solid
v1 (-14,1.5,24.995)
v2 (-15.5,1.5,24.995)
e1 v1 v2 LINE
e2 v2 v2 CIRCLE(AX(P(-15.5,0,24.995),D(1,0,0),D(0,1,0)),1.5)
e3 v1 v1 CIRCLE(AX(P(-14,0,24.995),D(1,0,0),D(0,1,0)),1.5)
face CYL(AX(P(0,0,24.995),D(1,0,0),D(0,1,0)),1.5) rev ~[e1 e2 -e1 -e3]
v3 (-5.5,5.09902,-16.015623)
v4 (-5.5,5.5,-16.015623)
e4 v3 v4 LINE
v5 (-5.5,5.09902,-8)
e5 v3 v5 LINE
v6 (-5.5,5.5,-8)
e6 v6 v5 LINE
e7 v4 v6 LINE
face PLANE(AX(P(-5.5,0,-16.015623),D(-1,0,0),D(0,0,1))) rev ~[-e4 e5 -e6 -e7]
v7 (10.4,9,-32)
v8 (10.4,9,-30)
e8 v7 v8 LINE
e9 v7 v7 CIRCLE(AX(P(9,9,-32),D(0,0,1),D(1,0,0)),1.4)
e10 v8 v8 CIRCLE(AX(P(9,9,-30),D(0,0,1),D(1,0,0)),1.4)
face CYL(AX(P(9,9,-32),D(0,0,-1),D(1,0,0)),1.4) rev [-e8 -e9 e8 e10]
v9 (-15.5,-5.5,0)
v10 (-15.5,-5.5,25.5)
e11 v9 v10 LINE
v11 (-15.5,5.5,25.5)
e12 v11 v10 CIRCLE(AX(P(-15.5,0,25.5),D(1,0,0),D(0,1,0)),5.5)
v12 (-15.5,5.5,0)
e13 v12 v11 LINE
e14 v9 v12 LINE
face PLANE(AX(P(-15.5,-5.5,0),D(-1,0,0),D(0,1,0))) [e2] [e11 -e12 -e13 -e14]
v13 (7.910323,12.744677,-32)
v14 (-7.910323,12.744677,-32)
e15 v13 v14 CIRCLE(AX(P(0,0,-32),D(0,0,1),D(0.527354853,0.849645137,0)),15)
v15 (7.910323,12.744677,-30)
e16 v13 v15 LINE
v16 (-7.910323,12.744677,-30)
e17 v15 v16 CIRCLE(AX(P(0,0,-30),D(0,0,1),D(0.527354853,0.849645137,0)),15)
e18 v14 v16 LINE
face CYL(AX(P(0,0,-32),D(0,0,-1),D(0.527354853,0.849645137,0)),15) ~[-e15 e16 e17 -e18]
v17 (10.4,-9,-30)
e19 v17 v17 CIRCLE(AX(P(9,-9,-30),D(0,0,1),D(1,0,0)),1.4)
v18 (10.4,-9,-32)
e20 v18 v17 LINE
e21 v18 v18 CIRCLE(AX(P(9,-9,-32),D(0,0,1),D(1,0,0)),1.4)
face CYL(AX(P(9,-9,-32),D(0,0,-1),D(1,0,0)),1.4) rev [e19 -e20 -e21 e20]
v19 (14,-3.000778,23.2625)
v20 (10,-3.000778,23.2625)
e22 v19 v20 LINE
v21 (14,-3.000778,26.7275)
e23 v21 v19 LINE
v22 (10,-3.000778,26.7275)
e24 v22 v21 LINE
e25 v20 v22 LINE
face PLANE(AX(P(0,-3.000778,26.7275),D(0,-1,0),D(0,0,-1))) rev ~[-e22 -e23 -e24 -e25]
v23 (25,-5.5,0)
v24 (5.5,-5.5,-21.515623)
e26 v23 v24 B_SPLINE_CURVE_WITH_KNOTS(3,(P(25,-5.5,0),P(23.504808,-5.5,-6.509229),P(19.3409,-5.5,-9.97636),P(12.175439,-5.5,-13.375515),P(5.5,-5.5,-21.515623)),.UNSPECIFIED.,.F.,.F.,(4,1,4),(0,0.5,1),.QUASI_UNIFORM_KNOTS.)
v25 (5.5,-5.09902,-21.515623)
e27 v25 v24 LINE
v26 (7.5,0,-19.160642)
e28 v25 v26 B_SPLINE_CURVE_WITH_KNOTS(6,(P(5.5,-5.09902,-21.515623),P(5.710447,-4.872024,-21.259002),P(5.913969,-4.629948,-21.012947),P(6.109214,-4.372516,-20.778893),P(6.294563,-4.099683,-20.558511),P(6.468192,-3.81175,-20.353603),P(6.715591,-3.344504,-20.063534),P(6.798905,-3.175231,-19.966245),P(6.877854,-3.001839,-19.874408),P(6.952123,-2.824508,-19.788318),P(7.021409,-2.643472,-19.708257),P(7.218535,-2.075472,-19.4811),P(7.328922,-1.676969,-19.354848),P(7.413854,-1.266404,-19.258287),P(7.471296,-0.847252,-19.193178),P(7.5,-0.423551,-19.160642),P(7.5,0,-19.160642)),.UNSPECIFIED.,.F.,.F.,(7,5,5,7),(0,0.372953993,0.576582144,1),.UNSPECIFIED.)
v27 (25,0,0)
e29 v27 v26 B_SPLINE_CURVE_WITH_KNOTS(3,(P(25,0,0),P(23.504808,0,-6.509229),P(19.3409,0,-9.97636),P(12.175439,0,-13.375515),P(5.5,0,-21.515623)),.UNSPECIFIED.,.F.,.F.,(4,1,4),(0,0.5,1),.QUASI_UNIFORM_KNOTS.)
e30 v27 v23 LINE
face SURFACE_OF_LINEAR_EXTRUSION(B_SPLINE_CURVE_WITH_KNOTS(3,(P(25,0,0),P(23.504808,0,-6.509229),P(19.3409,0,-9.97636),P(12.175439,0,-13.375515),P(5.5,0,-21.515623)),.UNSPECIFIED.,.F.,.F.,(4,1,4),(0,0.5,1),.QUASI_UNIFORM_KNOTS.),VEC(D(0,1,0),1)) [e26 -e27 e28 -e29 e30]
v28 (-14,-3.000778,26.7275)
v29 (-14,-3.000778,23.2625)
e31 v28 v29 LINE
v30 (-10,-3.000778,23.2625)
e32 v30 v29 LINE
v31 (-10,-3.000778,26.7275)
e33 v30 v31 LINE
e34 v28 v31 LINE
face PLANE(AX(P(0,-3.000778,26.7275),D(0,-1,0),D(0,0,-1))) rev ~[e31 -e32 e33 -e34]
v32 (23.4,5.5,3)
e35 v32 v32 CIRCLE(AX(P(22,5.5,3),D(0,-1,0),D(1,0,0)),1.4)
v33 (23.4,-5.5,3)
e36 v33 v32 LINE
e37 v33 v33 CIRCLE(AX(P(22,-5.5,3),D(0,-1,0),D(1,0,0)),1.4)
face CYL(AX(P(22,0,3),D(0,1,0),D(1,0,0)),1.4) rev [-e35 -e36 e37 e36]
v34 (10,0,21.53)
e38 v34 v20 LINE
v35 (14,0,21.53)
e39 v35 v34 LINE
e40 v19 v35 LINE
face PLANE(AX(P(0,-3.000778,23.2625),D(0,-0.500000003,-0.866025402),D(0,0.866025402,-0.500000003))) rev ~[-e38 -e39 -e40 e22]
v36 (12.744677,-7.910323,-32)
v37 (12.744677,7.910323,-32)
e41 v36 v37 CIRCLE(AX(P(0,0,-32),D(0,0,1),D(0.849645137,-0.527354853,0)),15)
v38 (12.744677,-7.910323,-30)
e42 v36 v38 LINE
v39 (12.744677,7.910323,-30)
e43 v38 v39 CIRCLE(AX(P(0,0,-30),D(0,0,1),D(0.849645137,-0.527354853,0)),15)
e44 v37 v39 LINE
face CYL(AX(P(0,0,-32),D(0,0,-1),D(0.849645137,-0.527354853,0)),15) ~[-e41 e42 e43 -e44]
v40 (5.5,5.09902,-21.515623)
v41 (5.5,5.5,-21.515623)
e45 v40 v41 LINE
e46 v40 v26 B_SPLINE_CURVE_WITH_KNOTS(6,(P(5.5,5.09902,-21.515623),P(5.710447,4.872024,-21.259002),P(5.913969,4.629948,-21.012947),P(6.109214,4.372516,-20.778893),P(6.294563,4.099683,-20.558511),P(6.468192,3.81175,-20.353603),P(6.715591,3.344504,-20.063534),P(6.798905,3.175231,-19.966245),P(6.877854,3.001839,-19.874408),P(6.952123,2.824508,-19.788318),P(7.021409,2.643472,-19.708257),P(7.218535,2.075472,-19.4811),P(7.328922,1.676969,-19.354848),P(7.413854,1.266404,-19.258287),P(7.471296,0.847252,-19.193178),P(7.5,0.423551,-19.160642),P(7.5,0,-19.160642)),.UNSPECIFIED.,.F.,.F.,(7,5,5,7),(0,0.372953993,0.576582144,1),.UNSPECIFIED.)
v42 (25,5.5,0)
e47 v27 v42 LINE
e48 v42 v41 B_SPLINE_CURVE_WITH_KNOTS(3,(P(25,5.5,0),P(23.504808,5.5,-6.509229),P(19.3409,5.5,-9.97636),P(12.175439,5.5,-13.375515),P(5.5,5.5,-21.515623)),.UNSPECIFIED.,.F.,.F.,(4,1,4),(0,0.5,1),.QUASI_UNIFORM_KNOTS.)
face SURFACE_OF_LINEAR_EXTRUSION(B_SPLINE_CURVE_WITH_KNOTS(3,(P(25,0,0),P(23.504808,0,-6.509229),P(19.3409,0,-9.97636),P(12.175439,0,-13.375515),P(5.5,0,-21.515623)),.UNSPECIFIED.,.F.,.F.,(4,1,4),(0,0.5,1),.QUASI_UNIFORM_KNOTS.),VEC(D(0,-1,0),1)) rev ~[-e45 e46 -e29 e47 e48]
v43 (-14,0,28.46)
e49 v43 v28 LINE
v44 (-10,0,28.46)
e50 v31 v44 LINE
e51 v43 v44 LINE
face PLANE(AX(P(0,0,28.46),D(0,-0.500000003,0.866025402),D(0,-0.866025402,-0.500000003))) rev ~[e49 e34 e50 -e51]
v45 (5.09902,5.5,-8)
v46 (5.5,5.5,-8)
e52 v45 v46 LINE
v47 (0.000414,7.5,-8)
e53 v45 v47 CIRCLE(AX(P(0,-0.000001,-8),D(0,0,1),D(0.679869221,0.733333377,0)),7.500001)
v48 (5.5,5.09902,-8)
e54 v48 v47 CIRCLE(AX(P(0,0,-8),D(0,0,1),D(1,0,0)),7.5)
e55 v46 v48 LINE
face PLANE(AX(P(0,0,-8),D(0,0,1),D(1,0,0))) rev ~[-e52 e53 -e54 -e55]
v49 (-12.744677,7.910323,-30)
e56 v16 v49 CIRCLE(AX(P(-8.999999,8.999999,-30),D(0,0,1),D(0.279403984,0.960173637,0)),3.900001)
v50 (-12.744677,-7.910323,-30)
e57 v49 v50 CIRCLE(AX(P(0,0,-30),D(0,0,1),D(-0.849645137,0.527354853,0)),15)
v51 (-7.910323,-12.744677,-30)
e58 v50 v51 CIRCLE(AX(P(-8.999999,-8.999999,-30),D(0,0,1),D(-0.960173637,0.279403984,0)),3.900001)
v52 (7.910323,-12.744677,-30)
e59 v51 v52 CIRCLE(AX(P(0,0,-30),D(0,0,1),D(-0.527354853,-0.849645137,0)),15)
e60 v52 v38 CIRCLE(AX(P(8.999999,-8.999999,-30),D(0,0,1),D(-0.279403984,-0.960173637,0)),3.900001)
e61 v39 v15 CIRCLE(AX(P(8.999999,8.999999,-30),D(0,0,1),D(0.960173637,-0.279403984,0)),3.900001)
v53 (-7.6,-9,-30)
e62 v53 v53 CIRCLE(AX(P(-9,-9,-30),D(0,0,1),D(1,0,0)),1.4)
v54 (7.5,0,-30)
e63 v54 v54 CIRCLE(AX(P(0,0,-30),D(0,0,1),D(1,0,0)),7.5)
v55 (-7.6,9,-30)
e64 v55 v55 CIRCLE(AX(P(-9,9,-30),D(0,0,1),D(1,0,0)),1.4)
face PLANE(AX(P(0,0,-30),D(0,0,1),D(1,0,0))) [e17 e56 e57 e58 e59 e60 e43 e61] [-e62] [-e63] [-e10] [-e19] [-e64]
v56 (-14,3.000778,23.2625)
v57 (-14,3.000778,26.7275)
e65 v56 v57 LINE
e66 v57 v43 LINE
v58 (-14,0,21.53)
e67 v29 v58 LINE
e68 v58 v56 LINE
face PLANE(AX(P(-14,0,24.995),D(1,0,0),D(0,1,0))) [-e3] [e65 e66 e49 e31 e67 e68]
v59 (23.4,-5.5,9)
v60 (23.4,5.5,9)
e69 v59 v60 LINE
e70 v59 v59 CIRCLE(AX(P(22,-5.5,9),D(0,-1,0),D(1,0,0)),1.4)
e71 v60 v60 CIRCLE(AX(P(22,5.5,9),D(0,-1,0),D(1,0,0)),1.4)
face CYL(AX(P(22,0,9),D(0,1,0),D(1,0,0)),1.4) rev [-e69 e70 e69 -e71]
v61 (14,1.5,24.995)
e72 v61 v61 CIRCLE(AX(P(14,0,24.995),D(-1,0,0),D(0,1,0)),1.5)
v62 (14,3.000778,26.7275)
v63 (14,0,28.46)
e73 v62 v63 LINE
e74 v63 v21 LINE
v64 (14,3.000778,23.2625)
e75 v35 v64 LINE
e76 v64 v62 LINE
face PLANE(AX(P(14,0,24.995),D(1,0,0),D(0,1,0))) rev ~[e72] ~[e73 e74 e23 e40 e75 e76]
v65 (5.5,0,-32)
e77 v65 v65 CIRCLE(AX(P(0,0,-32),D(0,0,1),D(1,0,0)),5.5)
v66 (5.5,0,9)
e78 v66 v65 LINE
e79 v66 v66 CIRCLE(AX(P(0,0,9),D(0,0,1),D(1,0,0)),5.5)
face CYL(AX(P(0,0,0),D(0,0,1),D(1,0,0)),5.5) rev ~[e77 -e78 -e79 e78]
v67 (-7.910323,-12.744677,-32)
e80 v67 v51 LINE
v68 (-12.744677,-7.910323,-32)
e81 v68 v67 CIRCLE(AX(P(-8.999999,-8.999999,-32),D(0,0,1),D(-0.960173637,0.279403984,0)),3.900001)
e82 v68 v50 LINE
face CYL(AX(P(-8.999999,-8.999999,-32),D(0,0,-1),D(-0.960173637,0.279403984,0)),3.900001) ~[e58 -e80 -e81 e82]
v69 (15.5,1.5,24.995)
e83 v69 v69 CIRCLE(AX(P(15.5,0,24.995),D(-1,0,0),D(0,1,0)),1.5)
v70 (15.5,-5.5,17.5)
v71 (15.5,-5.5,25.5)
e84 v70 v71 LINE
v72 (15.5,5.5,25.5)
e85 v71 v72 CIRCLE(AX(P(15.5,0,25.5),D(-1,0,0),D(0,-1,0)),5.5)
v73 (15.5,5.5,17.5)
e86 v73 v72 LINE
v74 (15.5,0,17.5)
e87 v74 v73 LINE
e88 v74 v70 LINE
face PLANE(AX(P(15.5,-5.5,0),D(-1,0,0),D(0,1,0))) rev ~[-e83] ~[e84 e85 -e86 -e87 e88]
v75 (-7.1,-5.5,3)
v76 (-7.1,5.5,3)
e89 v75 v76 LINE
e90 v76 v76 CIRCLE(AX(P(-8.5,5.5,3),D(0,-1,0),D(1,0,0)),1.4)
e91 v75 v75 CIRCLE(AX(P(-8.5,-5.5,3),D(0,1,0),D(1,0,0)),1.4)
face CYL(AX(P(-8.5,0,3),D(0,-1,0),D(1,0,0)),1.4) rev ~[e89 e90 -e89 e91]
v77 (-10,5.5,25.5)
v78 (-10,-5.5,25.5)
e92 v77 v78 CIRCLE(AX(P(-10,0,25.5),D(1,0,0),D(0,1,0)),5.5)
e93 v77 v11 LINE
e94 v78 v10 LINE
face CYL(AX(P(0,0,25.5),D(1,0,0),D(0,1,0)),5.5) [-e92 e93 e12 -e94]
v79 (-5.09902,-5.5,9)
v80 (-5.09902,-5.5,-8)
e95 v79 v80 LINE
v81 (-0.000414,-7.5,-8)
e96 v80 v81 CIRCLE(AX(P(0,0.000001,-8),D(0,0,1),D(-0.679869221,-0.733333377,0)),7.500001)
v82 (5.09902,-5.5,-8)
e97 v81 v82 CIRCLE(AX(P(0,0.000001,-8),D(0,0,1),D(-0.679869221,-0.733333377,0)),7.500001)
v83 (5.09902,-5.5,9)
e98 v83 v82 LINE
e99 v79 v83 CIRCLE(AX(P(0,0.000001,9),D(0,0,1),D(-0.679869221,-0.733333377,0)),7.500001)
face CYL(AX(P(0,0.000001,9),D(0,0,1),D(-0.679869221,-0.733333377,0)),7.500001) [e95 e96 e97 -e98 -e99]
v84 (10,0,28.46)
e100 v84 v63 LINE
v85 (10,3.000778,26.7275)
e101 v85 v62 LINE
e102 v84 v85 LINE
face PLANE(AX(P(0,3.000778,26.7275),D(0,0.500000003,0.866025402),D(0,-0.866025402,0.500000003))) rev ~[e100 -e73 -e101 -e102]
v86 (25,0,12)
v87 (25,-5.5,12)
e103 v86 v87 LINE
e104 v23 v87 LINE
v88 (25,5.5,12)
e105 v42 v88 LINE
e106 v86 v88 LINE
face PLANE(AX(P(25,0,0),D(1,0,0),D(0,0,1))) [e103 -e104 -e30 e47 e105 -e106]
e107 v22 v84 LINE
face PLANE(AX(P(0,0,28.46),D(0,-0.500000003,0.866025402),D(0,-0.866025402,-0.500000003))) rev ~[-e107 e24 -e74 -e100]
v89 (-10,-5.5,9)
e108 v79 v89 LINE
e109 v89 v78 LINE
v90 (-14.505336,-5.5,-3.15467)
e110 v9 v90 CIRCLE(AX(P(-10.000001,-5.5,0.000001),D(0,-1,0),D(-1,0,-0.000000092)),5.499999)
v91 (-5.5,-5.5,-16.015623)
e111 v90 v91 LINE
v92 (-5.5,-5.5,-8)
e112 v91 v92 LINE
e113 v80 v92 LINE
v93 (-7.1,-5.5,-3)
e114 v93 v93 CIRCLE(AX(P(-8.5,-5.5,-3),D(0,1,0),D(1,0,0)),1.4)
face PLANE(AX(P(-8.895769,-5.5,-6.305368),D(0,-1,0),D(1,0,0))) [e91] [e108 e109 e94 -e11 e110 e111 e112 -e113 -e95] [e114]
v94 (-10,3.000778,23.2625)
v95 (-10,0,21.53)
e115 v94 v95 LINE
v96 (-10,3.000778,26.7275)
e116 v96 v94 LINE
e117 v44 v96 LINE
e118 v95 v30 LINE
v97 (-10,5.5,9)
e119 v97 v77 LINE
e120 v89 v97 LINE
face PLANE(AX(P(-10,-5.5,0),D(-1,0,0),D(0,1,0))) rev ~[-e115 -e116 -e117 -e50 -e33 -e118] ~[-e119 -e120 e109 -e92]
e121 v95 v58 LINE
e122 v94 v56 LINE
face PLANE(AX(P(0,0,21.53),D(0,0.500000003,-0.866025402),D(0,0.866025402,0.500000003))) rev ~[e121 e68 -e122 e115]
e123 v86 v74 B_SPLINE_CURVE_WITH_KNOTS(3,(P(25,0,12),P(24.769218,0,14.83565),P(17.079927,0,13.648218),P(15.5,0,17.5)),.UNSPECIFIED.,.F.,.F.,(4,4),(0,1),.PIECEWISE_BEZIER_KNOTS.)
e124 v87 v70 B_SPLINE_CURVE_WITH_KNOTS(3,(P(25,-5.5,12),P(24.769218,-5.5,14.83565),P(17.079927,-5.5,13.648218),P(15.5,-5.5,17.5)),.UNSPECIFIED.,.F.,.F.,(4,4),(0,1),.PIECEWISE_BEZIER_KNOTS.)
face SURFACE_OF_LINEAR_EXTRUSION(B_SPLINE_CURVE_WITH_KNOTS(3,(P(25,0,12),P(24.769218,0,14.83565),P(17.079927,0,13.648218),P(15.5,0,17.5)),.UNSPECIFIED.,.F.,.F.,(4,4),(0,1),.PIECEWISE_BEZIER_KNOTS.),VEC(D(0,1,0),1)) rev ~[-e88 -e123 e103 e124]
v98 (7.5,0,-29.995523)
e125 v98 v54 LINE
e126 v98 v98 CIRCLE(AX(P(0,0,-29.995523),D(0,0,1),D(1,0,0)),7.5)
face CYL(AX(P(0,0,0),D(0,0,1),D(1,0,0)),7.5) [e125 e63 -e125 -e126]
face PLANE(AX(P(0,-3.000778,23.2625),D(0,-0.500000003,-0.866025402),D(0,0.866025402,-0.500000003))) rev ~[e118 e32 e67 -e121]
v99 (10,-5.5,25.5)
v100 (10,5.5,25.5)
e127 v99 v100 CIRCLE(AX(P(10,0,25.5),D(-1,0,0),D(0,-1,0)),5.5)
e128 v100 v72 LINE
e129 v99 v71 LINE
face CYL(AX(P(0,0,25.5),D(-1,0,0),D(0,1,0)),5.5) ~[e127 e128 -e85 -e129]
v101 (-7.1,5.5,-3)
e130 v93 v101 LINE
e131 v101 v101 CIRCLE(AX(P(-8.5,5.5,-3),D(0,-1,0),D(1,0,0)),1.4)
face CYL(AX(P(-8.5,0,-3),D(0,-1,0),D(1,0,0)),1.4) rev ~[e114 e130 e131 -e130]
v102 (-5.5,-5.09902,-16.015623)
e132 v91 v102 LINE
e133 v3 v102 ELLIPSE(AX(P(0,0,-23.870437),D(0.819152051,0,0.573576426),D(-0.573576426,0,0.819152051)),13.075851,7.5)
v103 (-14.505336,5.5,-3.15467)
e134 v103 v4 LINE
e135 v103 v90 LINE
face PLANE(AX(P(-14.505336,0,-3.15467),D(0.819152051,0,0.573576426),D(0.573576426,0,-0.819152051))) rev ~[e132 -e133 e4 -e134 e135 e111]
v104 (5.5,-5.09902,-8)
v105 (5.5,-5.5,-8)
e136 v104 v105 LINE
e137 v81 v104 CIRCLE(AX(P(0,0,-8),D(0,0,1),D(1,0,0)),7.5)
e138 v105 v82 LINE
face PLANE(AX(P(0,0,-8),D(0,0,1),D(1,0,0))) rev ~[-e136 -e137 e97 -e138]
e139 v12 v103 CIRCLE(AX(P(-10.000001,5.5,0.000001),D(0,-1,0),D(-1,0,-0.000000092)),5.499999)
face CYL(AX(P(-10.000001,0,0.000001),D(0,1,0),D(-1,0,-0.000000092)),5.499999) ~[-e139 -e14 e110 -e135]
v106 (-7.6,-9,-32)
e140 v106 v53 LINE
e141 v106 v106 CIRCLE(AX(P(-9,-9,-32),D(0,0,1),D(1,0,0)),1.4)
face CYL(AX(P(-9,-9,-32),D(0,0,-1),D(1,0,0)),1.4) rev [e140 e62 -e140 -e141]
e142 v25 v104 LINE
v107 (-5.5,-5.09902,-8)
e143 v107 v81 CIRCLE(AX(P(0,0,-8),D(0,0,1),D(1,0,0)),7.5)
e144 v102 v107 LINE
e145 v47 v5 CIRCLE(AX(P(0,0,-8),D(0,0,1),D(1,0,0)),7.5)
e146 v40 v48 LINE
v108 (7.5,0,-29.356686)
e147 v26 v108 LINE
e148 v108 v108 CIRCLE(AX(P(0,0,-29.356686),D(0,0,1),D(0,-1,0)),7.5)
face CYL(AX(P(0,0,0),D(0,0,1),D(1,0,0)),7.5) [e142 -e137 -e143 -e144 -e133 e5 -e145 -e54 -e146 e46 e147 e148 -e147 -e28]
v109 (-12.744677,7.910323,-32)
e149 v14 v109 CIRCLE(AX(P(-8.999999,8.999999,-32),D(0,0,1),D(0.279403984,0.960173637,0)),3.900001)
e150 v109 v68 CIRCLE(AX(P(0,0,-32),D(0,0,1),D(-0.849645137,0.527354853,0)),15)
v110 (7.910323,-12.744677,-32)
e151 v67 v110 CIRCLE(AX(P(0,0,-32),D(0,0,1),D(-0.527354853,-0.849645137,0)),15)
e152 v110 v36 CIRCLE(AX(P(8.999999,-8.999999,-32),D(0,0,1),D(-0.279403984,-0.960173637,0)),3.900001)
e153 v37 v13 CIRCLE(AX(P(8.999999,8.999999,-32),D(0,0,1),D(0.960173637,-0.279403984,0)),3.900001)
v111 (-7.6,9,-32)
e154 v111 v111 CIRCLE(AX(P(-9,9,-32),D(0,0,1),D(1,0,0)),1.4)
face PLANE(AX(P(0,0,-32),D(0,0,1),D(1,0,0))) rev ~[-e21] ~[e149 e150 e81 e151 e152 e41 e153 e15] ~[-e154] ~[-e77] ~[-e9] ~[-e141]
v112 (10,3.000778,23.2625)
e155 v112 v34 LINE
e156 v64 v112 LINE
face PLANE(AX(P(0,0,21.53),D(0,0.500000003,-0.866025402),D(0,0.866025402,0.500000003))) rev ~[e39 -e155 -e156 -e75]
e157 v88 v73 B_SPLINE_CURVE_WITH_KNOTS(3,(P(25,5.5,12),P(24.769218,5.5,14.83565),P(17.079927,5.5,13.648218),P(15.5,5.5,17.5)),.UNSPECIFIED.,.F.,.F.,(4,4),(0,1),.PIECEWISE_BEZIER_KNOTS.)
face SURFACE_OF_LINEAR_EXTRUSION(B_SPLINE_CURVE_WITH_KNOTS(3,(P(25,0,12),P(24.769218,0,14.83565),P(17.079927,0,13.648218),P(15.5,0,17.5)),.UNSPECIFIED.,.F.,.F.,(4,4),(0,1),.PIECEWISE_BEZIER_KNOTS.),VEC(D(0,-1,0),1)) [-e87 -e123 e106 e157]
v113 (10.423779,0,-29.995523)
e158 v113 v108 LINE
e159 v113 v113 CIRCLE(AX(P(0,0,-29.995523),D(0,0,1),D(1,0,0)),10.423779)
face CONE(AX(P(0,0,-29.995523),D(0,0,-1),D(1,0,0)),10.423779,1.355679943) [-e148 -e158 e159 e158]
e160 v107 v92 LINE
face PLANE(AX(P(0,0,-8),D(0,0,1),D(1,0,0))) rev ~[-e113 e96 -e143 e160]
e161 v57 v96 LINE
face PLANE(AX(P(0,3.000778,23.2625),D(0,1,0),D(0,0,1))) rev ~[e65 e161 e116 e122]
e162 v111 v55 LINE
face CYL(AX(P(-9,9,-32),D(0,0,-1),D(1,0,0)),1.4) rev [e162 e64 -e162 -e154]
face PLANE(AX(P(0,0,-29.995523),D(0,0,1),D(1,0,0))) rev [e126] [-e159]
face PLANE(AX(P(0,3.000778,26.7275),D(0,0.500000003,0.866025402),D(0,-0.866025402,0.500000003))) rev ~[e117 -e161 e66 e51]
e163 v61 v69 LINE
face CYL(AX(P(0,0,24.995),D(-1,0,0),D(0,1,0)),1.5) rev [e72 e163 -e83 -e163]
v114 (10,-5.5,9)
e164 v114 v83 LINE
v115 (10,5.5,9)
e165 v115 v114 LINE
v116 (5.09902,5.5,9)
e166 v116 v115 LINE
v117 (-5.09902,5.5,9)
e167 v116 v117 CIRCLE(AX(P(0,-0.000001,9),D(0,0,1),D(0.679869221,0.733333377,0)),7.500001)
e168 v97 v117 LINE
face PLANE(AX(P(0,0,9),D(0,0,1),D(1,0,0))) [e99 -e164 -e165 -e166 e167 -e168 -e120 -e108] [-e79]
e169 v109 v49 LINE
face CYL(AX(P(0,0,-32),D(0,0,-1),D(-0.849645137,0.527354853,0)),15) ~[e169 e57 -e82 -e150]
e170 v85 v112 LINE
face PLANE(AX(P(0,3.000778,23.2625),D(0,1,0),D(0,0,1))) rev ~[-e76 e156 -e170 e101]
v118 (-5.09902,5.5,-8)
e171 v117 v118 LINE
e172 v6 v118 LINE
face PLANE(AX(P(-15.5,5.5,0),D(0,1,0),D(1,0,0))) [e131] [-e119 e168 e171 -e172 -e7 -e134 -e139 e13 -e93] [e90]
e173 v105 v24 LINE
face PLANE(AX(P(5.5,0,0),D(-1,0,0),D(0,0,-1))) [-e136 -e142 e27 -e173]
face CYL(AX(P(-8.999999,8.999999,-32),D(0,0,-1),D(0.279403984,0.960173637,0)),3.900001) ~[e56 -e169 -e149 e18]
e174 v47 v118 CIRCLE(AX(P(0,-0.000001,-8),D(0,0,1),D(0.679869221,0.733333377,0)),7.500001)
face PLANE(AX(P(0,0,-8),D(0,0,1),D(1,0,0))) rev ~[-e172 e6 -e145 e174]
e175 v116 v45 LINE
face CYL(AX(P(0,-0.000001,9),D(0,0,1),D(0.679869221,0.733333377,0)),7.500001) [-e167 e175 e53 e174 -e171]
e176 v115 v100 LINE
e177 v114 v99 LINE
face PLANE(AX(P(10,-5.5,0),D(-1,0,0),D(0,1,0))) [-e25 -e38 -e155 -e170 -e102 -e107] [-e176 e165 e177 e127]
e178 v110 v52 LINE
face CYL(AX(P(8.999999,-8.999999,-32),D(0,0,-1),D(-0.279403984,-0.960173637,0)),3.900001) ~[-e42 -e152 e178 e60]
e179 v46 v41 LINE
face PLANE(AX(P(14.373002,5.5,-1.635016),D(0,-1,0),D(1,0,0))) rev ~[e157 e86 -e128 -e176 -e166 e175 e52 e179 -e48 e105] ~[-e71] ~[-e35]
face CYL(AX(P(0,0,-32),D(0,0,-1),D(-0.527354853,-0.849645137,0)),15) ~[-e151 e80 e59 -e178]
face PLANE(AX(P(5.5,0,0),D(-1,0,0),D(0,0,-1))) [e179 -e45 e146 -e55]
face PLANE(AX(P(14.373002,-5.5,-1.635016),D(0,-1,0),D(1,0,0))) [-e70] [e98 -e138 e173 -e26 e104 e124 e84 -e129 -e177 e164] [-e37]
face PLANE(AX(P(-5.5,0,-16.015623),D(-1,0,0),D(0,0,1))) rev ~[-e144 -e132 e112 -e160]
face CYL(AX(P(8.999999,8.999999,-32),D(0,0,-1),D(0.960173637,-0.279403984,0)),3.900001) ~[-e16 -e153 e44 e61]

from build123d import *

# Parameters (mm, degrees)
SKETCH003_R          = 5.5
PAD002_DEPTH         = 17
SKETCH005_R          = 7.5
SKETCH005_R_2        = 5.5
PAD004_DEPTH         = 32
SKETCH001_W          = 5.5
SKETCH001_H          = 11
PAD006_DEPTH         = 31
SKETCH006_R          = 1.5
POCKET_DEPTH         = 15.501
POCKET_DEPTH_BACK    = 15.501
POCKET001_DEPTH      = 14
SKETCH004_R          = 1.4
PAD007_DEPTH         = 5.5
SKETCH008_R          = 1.4
PAD008_DEPTH         = 2
SKETCH009_R          = 1.4
POCKET002_DEPTH      = 15.001
POCKET002_DEPTH_BACK = 15.001
SKETCH012_R          = 5.5
POCKET004_DEPTH      = 32.001
POCKET011_DEPTH      = 15.501
POCKET011_DEPTH_BACK = 25.001


with BuildPart() as part:
    # Sketch003 → Pad002 (new body)
    with BuildSketch(Plane.XY.offset(9)):
        with BuildLine():
            ThreePointArc((-5.09902, -5.5), (0, -7.5), (5.09902, -5.5))
            Line((10, -5.5), (5.09902, -5.5))
            Line((10, 5.5), (10, -5.5))
            Line((5.09902, 5.5), (10, 5.5))
            ThreePointArc((5.09902, 5.5), (0, 7.5), (-5.09902, 5.5))
            Line((-10, 5.5), (-5.09902, 5.5))
            Line((-10, -5.5), (-10, 5.5))
            Line((-5.09902, -5.5), (-10, -5.5))
        make_face()
        Circle(SKETCH003_R, mode=Mode.SUBTRACT)
    extrude(amount=-PAD002_DEPTH)

    # Sketch005 → Pad004 (join)
    with BuildSketch(Plane.XY):
        Circle(SKETCH005_R)
        Circle(SKETCH005_R_2, mode=Mode.SUBTRACT)
    extrude(amount=-PAD004_DEPTH)

    # Sketch001 → Pad006 (join)
    with BuildSketch(Plane.XY):
        with Locations((-12.75, 0)):
            Rectangle(SKETCH001_W, SKETCH001_H)
        with Locations((12.75, 0)):
            Rectangle(SKETCH001_W, SKETCH001_H)
    extrude(amount=PAD006_DEPTH)

    # Sketch006 → Pocket (cut, two sides)
    with BuildSketch(Plane.YZ) as pocket_sk:
        with Locations((0, 24.995)):
            Circle(SKETCH006_R)
    extrude(amount=-POCKET_DEPTH, mode=Mode.SUBTRACT)
    extrude(pocket_sk.sketch, amount=POCKET_DEPTH_BACK, mode=Mode.SUBTRACT)

    # Sketch007 → Pocket001 (cut, symmetric)
    with BuildSketch(Plane.YZ):
        Polygon((3.000778, 23.2625), (3.000778, 26.7275), (0, 28.46), (-3.000778, 26.7275), (-3.000778, 23.2625), (0, 21.53), align=None)
    extrude(amount=POCKET001_DEPTH, both=True, mode=Mode.SUBTRACT)

    # Sketch004 → Pad007 (join, symmetric)
    with BuildSketch(Plane.XZ):
        with BuildLine():
            Line((-5.5, 0), (-15.5, 0))
            ThreePointArc((-15.5, 0), (-15.245443, -1.653882), (-14.505336, -3.15467))
            Line((-14.505336, -3.15467), (-5.5, -16.015623))
            Line((-5.5, -16.015623), (-5.5, 0))
        make_face()
        with BuildLine():
            Line((25, 0), (25, 12))
            add(Edge.make_bspline(
                [(25, 12), (24.769218, 14.83565), (17.079927, 13.648218), (15.5, 17.5)],
                knots=[0, 0, 0, 0, 1, 1, 1, 1], degree=3))
            Line((15.5, 17.5), (15.5, 12))
            Line((15.5, 12), (5.5, 0))
            Line((5.5, 0), (5.5, -21.515623))
            add(Edge.make_bspline(
                [(25, 0), (23.504808, -6.509229), (19.3409, -9.97636), (12.175439, -13.375515), (5.5, -21.515623)],
                knots=[0, 0, 0, 0, 0.5, 1, 1, 1, 1], degree=3))
        make_face()
        with Locations((22, 3)):
            Circle(SKETCH004_R, mode=Mode.SUBTRACT)
        with Locations((22, 9)):
            Circle(SKETCH004_R, mode=Mode.SUBTRACT)
    extrude(amount=PAD007_DEPTH, both=True)

    # Sketch008 → Pad008 (join)
    with BuildSketch(Plane.XY.offset(-32)):
        with BuildLine():
            ThreePointArc((-12.744677, 7.910323), (-15, 0), (-12.744677, -7.910323))
            ThreePointArc((-12.744677, -7.910323), (-11.757716, -11.757716), (-7.910323, -12.744677))
            ThreePointArc((-7.910323, -12.744677), (0, -15), (7.910323, -12.744677))
            ThreePointArc((7.910323, -12.744677), (11.757716, -11.757716), (12.744677, -7.910323))
            ThreePointArc((12.744677, -7.910323), (15, 0), (12.744677, 7.910323))
            ThreePointArc((12.744677, 7.910323), (11.757716, 11.757716), (7.910323, 12.744677))
            ThreePointArc((7.910323, 12.744677), (0, 15), (-7.910323, 12.744677))
            ThreePointArc((-7.910323, 12.744677), (-11.757716, 11.757716), (-12.744677, 7.910323))
        make_face()
        with Locations((9, 9)):
            Circle(SKETCH008_R, mode=Mode.SUBTRACT)
        with Locations((-9, 9)):
            Circle(SKETCH008_R, mode=Mode.SUBTRACT)
        with Locations((-9, -9)):
            Circle(SKETCH008_R, mode=Mode.SUBTRACT)
        with Locations((9, -9)):
            Circle(SKETCH008_R, mode=Mode.SUBTRACT)
    extrude(amount=PAD008_DEPTH)

    # Sketch009 → Pocket002 (cut, two sides)
    with BuildSketch(Plane.XZ) as pocket002_sk:
        with Locations((-8.5, 3)):
            Circle(SKETCH009_R)
        with Locations((-8.5, -3)):
            Circle(SKETCH009_R)
    extrude(amount=-POCKET002_DEPTH, mode=Mode.SUBTRACT)
    extrude(pocket002_sk.sketch, amount=POCKET002_DEPTH_BACK, mode=Mode.SUBTRACT)

    # Sketch011 → Revolution (revolve)
    with BuildSketch(Plane.XZ):
        Polygon((0, -29.995523), (10.423779, -29.995523), (0, -27.717957), align=None)
    revolve(axis=Axis((0, 0, 0), (0, 0, 1)))

    # Sketch012 → Pocket004 (cut, through all)
    with BuildSketch(Plane.XY):
        Circle(SKETCH012_R)
    extrude(amount=-POCKET004_DEPTH, mode=Mode.SUBTRACT)

    # Sketch032 → Pocket011 (cut, two sides)
    with BuildSketch(Plane.YZ) as pocket011_sk:
        with BuildLine():
            ThreePointArc((5.5, 25.5), (0, 31), (-5.5, 25.5))
            Line((-5.5, 25.5), (-5.5, 32))
            Line((-5.5, 32), (5.5, 32))
            Line((5.5, 25.5), (5.5, 32))
        make_face()
    extrude(amount=-POCKET011_DEPTH, mode=Mode.SUBTRACT)
    extrude(pocket011_sk.sketch, amount=POCKET011_DEPTH_BACK, mode=Mode.SUBTRACT)


solid = part.part
